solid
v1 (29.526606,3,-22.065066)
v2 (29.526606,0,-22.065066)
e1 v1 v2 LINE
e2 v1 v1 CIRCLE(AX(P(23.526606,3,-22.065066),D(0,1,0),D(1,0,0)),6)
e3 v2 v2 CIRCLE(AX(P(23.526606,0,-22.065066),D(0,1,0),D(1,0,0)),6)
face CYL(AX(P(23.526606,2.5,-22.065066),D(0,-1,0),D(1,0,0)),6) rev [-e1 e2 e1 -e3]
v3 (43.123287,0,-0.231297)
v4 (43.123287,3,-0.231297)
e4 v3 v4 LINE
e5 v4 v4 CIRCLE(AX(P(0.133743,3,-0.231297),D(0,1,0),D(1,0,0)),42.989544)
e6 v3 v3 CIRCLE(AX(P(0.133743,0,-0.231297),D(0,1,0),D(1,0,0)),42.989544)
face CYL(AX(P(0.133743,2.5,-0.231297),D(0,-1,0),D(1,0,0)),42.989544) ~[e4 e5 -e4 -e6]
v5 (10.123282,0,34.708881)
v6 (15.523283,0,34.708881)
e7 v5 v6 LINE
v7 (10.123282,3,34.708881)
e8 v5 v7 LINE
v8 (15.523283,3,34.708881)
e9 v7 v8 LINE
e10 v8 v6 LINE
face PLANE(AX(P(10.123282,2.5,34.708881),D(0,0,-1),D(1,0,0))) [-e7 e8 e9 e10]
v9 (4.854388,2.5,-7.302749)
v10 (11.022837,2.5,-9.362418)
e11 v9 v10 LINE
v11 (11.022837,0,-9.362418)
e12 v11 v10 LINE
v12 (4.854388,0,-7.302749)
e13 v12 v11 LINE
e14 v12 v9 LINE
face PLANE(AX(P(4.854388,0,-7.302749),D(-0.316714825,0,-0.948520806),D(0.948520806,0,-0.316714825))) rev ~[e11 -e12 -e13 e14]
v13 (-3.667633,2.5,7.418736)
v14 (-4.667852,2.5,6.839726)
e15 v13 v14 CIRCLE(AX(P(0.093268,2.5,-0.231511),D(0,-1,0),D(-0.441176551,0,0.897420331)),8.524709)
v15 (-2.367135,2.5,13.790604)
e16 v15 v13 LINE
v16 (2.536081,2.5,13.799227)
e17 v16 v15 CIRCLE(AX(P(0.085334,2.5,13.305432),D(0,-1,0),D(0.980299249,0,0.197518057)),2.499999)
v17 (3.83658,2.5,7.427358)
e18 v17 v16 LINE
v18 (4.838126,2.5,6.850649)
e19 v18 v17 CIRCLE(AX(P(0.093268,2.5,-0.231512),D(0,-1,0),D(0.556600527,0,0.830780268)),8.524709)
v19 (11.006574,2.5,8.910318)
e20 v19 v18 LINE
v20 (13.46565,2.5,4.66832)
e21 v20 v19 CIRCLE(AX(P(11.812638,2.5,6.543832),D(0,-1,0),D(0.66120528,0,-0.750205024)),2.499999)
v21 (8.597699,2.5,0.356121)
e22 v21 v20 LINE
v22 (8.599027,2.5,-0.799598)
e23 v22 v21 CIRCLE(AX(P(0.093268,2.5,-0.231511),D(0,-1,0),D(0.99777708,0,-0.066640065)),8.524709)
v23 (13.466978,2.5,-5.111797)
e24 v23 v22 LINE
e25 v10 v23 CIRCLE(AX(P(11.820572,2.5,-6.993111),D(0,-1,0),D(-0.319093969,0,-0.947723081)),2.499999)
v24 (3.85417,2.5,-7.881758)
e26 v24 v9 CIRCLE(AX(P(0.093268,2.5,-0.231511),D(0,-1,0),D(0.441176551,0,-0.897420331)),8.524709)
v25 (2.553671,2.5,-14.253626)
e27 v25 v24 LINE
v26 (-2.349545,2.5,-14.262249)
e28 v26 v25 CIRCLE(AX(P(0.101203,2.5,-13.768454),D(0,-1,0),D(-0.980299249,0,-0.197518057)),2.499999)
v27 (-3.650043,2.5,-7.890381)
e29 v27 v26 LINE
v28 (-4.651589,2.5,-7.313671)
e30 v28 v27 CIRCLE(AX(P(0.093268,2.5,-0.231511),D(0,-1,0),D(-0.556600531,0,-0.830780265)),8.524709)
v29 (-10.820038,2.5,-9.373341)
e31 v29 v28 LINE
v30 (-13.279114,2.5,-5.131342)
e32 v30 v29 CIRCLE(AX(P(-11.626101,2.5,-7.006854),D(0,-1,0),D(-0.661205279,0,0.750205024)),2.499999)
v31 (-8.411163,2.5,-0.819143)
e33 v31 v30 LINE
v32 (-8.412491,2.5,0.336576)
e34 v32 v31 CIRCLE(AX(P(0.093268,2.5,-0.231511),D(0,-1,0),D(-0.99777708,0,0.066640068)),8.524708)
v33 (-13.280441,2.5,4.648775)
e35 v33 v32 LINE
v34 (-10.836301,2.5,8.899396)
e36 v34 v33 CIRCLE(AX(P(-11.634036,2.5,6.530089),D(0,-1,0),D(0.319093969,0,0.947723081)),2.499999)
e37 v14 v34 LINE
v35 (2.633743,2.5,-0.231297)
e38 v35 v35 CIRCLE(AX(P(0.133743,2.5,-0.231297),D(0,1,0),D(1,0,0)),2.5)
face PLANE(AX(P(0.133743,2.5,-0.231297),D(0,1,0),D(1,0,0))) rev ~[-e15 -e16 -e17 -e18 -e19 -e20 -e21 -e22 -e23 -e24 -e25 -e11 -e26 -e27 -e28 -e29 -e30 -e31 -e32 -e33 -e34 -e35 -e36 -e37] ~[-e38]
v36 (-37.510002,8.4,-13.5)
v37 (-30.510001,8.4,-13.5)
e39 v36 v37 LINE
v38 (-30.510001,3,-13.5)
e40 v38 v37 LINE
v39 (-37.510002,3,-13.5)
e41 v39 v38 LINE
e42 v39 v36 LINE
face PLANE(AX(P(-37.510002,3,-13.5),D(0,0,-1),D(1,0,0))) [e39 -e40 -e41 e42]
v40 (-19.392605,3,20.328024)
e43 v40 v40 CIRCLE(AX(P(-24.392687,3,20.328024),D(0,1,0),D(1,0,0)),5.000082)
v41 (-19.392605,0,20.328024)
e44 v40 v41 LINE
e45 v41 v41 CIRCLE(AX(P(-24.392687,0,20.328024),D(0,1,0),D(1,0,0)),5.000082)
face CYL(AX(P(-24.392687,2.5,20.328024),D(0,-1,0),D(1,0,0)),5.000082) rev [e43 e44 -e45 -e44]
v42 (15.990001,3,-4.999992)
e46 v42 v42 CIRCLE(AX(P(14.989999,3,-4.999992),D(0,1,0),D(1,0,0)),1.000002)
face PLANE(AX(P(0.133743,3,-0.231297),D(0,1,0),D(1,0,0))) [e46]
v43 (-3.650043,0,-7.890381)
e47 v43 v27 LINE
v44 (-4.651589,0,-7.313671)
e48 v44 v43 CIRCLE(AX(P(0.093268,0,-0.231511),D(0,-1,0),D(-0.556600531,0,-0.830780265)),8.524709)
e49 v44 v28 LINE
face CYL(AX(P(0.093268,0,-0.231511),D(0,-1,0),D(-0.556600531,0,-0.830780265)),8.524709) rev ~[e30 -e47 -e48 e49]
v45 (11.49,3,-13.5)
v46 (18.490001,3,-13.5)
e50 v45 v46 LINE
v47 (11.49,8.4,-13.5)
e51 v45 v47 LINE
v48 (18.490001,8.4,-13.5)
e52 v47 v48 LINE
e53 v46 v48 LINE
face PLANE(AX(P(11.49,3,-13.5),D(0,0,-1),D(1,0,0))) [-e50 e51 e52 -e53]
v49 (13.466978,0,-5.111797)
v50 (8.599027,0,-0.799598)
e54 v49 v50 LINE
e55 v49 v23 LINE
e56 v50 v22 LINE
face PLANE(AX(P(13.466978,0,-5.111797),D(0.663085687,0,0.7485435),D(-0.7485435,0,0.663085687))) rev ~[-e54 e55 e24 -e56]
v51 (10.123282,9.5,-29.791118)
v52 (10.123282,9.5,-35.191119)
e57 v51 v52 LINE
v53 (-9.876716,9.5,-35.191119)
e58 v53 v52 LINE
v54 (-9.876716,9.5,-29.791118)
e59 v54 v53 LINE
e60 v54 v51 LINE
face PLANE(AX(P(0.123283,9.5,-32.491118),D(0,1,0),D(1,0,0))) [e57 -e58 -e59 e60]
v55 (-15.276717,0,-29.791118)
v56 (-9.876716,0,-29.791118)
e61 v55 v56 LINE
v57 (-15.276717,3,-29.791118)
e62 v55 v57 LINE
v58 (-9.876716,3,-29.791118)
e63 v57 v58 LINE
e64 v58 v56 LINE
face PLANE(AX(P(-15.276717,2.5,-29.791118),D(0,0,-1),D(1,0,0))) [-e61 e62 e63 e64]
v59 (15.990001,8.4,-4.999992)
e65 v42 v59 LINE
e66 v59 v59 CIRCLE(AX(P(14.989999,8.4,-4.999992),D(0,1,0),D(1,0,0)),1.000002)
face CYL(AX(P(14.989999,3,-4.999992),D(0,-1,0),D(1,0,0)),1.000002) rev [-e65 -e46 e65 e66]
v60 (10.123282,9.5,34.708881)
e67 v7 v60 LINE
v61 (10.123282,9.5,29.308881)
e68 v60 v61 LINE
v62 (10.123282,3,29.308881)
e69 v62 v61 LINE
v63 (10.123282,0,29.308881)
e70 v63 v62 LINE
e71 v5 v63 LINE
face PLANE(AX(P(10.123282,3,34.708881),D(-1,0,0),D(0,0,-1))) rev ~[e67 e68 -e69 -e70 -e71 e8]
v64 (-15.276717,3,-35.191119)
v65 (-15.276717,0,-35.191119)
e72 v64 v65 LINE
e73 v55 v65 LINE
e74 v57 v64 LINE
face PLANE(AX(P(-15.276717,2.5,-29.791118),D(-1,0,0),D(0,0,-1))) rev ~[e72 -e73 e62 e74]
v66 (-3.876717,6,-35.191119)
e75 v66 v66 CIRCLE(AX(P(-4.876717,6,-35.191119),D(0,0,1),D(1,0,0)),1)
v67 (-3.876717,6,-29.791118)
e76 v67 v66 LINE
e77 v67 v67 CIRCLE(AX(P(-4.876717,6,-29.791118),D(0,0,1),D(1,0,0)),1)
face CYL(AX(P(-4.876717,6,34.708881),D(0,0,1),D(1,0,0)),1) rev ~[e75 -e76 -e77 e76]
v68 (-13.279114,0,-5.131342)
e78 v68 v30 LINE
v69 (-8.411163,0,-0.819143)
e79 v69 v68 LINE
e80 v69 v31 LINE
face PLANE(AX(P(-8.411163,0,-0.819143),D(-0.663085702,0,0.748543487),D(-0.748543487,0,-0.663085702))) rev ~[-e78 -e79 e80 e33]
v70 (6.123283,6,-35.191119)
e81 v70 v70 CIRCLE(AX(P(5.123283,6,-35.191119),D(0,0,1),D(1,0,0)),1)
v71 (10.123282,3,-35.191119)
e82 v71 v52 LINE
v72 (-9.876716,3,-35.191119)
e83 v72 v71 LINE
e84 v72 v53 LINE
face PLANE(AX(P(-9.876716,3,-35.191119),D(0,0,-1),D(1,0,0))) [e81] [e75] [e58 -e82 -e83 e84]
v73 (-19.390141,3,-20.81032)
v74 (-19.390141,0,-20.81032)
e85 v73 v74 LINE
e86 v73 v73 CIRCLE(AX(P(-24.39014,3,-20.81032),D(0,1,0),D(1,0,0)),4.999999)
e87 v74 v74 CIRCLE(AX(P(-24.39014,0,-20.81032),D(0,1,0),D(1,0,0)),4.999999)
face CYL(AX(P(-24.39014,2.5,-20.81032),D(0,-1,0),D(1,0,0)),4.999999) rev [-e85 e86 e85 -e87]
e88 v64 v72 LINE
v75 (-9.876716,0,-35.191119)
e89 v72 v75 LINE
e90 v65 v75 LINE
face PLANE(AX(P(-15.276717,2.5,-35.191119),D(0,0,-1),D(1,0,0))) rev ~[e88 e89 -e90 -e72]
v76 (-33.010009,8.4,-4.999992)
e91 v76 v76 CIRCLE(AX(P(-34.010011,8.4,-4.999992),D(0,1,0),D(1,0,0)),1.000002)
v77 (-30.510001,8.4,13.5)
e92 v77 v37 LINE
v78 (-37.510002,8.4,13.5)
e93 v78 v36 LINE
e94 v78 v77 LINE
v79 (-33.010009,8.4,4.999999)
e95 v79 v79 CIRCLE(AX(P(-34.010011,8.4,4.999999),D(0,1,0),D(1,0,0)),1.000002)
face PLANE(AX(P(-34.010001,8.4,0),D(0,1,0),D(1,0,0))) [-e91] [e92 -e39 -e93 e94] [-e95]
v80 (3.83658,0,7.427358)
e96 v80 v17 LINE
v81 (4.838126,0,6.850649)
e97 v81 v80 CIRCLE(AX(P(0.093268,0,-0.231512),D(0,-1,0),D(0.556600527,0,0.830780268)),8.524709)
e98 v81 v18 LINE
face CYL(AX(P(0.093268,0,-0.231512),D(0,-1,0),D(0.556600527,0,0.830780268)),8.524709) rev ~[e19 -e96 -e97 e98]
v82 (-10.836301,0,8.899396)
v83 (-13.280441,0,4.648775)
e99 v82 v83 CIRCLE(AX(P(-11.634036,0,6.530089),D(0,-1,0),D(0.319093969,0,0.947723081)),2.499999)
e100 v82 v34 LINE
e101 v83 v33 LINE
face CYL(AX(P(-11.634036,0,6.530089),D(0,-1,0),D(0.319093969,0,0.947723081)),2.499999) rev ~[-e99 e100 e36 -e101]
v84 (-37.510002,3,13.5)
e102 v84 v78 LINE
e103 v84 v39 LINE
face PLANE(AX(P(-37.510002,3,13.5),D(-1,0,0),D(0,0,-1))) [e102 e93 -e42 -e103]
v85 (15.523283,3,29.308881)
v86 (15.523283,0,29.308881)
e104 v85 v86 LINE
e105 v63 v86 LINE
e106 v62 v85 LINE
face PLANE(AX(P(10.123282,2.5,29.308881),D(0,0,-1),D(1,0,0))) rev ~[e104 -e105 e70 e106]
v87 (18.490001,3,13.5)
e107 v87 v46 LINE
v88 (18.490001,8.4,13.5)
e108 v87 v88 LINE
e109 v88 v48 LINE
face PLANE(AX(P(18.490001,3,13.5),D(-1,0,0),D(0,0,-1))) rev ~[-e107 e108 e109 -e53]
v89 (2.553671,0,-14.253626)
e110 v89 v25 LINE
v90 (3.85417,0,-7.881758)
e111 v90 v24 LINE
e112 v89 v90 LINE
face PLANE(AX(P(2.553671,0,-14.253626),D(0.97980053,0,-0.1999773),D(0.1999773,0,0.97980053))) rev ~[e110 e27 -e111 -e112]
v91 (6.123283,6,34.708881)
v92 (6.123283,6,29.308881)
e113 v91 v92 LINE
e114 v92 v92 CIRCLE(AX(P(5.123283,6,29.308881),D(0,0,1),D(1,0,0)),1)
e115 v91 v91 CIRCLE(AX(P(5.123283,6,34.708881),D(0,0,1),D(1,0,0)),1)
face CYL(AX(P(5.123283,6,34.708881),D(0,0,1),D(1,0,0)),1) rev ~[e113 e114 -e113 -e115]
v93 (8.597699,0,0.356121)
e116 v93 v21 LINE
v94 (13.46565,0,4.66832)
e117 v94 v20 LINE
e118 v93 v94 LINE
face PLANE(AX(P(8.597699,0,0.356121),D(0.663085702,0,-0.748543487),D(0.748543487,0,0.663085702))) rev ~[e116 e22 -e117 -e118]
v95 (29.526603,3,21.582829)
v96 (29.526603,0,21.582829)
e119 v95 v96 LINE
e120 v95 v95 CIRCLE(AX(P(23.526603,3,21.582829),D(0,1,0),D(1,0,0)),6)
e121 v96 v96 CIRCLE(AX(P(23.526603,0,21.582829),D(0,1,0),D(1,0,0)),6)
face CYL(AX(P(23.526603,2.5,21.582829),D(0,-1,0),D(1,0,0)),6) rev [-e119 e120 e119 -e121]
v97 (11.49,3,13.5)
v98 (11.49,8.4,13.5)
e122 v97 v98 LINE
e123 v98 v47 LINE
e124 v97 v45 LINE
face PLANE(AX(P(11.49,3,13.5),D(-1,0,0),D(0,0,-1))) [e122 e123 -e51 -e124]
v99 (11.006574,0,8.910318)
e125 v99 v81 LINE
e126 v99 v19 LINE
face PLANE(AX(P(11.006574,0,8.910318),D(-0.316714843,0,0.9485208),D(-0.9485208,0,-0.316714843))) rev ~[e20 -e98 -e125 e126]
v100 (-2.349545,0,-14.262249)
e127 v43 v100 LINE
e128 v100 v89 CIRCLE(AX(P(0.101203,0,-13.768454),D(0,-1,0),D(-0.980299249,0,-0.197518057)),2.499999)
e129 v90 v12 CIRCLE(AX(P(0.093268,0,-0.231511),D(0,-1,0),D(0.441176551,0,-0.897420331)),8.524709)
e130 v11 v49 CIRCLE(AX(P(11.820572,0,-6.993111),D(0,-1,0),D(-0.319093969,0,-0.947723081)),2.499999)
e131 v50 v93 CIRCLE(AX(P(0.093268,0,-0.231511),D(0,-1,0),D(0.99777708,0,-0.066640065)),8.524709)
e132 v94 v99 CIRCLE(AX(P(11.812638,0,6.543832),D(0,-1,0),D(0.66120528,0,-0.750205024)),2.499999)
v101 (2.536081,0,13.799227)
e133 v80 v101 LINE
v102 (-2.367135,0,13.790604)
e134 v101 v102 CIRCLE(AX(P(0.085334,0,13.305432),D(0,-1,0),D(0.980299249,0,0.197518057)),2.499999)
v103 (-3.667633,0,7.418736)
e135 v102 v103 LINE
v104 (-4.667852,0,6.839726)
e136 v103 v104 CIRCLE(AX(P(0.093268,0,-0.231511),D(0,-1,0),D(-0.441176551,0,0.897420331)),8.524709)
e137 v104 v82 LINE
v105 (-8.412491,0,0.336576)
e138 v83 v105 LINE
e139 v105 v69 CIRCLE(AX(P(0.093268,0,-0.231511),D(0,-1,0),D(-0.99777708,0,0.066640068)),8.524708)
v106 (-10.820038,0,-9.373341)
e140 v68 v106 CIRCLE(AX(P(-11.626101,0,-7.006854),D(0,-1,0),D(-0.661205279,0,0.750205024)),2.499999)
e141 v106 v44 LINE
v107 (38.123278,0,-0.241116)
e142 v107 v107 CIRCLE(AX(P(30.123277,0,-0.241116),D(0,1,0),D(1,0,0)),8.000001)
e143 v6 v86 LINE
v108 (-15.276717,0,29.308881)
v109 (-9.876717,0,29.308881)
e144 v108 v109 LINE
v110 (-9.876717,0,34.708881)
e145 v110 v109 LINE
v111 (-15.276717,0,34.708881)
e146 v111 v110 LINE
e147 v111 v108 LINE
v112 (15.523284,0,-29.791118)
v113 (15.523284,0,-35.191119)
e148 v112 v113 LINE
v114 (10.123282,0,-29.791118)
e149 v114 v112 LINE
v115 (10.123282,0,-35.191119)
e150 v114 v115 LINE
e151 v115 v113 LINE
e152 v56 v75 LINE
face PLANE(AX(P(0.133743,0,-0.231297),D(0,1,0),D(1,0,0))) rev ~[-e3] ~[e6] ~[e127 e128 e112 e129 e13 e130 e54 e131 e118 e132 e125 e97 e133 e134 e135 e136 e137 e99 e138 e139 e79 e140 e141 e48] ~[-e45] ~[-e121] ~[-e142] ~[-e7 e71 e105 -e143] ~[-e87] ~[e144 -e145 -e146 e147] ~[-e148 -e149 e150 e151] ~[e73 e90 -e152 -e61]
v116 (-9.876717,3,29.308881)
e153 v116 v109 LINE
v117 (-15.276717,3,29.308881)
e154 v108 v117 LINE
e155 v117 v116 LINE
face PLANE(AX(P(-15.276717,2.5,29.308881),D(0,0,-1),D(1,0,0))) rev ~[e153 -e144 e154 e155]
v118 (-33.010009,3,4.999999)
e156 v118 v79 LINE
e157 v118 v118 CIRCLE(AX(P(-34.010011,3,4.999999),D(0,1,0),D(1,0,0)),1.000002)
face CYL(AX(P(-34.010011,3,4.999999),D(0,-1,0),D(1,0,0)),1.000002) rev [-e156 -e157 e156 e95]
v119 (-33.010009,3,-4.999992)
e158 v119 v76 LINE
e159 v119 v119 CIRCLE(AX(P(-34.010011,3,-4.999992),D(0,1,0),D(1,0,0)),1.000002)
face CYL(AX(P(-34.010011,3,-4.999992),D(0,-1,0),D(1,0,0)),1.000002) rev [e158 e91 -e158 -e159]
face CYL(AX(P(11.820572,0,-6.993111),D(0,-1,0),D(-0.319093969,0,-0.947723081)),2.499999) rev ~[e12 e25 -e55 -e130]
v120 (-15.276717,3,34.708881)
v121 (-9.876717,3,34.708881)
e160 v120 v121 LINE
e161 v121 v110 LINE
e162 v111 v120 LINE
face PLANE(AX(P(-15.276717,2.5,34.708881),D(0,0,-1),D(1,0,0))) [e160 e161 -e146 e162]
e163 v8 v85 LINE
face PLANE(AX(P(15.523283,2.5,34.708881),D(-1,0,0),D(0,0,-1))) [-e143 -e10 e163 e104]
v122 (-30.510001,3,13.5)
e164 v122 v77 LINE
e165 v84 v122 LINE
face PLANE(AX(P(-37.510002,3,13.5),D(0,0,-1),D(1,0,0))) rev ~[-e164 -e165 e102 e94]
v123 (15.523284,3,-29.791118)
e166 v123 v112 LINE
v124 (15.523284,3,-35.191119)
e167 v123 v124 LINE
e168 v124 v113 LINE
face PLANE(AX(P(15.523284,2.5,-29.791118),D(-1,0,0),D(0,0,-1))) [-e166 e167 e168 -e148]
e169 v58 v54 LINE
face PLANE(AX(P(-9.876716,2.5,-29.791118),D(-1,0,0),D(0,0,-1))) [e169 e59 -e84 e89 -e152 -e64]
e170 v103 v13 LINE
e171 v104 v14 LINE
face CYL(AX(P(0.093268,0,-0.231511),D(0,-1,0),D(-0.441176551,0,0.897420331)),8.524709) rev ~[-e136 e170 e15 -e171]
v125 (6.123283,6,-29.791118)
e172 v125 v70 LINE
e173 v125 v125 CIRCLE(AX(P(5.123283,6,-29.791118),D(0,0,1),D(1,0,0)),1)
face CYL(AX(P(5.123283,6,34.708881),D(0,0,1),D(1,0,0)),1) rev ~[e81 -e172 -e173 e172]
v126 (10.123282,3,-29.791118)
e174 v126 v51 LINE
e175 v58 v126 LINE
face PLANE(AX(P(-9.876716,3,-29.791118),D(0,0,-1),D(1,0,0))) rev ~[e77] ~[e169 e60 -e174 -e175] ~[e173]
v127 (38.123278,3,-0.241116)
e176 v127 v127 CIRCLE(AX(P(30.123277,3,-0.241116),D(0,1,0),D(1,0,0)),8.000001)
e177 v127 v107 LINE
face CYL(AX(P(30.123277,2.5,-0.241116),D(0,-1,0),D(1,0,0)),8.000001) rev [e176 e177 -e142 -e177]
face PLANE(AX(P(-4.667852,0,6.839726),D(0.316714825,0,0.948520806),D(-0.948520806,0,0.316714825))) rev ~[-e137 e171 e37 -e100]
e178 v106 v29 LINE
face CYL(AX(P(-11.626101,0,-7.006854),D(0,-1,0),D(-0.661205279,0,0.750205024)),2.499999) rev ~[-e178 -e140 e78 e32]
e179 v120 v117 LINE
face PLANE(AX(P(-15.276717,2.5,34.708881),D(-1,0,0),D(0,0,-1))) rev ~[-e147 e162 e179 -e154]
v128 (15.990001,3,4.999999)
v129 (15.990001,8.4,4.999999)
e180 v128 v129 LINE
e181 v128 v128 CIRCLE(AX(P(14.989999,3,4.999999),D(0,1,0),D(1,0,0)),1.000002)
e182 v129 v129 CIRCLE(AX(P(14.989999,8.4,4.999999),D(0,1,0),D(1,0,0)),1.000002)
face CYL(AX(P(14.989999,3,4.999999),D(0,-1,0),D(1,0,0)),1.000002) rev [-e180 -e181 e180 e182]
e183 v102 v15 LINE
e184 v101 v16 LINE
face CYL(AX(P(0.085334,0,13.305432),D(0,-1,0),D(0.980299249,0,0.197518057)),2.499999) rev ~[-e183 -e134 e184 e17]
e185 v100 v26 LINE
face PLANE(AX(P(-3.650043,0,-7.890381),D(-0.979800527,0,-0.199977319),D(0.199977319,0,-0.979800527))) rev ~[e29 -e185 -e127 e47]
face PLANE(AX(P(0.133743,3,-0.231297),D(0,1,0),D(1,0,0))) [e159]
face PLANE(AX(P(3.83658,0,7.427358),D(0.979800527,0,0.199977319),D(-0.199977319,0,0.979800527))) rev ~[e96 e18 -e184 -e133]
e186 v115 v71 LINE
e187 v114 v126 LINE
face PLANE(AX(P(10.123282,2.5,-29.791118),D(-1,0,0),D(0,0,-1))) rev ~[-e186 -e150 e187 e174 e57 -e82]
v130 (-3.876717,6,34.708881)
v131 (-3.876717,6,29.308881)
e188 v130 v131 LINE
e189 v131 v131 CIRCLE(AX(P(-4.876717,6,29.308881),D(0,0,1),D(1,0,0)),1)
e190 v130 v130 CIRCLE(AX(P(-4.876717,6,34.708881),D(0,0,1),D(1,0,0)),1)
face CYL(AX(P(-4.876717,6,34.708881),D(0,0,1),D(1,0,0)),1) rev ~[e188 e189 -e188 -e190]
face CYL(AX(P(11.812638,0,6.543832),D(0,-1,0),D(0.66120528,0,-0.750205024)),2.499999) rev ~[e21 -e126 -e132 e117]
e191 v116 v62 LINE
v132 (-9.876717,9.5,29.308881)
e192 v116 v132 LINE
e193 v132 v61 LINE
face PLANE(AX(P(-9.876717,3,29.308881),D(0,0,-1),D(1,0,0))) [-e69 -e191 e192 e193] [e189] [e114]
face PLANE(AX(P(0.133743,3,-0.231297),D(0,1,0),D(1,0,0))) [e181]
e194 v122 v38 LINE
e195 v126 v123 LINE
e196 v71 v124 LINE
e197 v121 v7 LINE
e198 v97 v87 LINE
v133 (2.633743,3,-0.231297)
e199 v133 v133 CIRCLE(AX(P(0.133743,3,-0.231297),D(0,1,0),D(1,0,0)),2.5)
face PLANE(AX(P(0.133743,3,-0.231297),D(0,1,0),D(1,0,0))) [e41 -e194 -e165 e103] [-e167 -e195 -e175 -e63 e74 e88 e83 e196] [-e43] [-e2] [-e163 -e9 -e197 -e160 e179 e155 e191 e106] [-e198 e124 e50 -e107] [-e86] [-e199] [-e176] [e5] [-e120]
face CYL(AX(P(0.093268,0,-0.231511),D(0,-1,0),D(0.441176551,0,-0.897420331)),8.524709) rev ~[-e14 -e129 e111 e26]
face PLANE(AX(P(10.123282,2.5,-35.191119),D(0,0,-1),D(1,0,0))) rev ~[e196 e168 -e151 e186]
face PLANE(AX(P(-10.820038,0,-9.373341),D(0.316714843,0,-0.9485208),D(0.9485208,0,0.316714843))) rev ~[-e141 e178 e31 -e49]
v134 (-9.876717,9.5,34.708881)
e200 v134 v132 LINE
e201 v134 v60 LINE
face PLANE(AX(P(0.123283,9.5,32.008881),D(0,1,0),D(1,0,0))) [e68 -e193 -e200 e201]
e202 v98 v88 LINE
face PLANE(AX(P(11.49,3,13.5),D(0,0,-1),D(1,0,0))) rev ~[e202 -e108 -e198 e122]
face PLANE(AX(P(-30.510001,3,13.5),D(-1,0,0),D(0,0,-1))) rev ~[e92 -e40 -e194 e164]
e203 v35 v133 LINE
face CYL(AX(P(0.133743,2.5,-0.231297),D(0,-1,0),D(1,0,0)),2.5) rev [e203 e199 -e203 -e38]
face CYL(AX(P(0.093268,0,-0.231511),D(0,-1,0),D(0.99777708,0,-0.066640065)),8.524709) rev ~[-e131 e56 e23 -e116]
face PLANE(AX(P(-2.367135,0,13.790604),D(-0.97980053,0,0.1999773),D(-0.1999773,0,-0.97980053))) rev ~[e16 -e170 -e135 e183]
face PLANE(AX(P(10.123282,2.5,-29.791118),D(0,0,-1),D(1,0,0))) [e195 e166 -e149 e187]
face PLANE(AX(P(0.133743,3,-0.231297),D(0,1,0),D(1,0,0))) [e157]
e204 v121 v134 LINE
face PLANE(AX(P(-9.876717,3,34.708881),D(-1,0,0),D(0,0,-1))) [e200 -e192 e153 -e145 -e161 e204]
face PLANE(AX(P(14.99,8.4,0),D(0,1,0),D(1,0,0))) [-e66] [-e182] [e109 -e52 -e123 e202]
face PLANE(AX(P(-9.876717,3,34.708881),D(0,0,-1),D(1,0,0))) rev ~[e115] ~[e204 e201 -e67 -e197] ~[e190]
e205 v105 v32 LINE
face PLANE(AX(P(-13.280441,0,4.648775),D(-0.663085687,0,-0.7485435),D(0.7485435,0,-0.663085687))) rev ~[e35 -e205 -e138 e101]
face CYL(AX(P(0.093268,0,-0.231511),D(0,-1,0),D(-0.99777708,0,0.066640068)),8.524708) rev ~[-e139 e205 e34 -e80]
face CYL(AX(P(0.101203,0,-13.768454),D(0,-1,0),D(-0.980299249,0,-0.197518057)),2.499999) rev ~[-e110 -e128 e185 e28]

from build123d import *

# Parameters (mm, degrees)
CROQUIS1_R              = 42.989543869
CROQUIS1_R_2            = 8.000000719
CROQUIS1_R_3            = 6.000000354
CROQUIS1_R_4            = 4.999998849
CROQUIS1_R_5            = 5.000081965
CROQUIS1_R_6            = 6.000000031
CROQUIS1_W              = 5.400000572
CROQUIS1_H              = 5.400000573
CROQUIS1_W_2            = 5.400001526
CROQUIS1_H_2            = 5.400001526
CROQUIS1_W_3            = 5.400001525
SALIENTE_EXTRUIR1_DEPTH = 2.5
CROQUIS2_R              = 42.989543869
CROQUIS2_R_2            = 5.000081965
CROQUIS2_R_3            = 6.000000031
CROQUIS2_R_4            = 8.000000719
CROQUIS2_R_5            = 6.000000354
CROQUIS2_R_6            = 4.999998849
CROQUIS2_R_7            = 2.5
CROQUIS2_W              = 5.400000572
CROQUIS2_H              = 5.400000573
CROQUIS2_W_2            = 5.400001525
CROQUIS2_H_2            = 5.400001526
CROQUIS2_W_3            = 5.400001526
SALIENTE_EXTRUIR2_DEPTH = 0.5
CROQUIS3_W              = 19.999999047
CROQUIS3_H              = 5.400000573
CROQUIS3_W_2            = 19.999998093
CROQUIS3_H_2            = 5.400001526
SALIENTE_EXTRUIR3_DEPTH = 6.5
CROQUIS4_R              = 1
CORTAR_EXTRUIR1_DEPTH   = 94.5
CROQUIS5_W              = 7.000000953
CROQUIS5_H              = 27
CROQUIS5_R              = 1.000001566
CROQUIS5_W_2            = 7.000000954
SALIENTE_EXTRUIR4_DEPTH = 5.4


with BuildPart() as part:
    # Croquis1 → Saliente-Extruir1 (new body)
    with BuildSketch(Plane(origin=(0, 0, 0), x_dir=(1, 0, 0), z_dir=(0, 1, 0))):
        with Locations((0.133743246, 0.231297164)):
            Circle(CROQUIS1_R)
        with Locations((30.123277351, 0.24111594)):
            Circle(CROQUIS1_R_2, mode=Mode.SUBTRACT)
        with Locations((23.52660556, 22.065066477)):
            Circle(CROQUIS1_R_3, mode=Mode.SUBTRACT)
        with Locations((-24.390140184, 20.810319956)):
            Circle(CROQUIS1_R_4, mode=Mode.SUBTRACT)
        with Locations((-24.392687184, -20.328024023)):
            Circle(CROQUIS1_R_5, mode=Mode.SUBTRACT)
        with Locations((23.526602762, -21.582829156)):
            Circle(CROQUIS1_R_6, mode=Mode.SUBTRACT)
        with BuildLine():
            Line((4.854387983, 7.302748706), (11.022837385, 9.362418202))
            ThreePointArc((11.022837385, 9.362418202), (13.987829641, 8.239301442), (13.466977705, 5.11179707))
            Line((13.466977705, 5.11179707), (8.599027265, 0.799598431))
            ThreePointArc((8.599027265, 0.799598431), (8.617971382, 0.221716337), (8.597699336, -0.356120697))
            Line((8.597699336, -0.356120697), (13.465650144, -4.668319833))
            ThreePointArc((13.465650144, -4.668319833), (13.975498626, -7.797636828), (11.006574422, -8.910318006))
            Line((11.006574422, -8.910318006), (4.838125635, -6.850648581))
            ThreePointArc((4.838125635, -6.850648581), (4.347137119, -7.155995714), (3.836579545, -7.427358125))
            Line((3.836579545, -7.427358125), (2.536080952, -13.799226756))
            ThreePointArc((2.536080952, -13.799226756), (0.080937178, -15.805426992), (-2.36713509, -13.790603798))
            Line((-2.36713509, -13.790603798), (-3.667633438, -7.418735734))
            ThreePointArc((-3.667633438, -7.418735734), (-4.177566071, -7.146200773), (-4.667851599, -6.839726149))
            Line((-4.667851599, -6.839726149), (-10.836301, -8.899395645))
            ThreePointArc((-10.836301, -8.899395645), (-13.801293256, -7.776278885), (-13.28044132, -4.648774514))
            Line((-13.28044132, -4.648774514), (-8.41249088, -0.336575875))
            ThreePointArc((-8.41249088, -0.336575875), (-8.431434998, 0.24130622), (-8.411162951, 0.819143254))
            Line((-8.411162951, 0.819143254), (-13.279113759, 5.131342389))
            ThreePointArc((-13.279113759, 5.131342389), (-13.788962242, 8.260659385), (-10.820038037, 9.373340563))
            Line((-10.820038037, 9.373340563), (-4.65158925, 7.313671137))
            ThreePointArc((-4.65158925, 7.313671137), (-4.160600735, 7.619018271), (-3.65004316, 7.890380681))
            Line((-3.65004316, 7.890380681), (-2.349544567, 14.262249313))
            ThreePointArc((-2.349544567, 14.262249313), (0.105599207, 16.268449549), (2.553671475, 14.253626355))
            Line((2.553671475, 14.253626355), (3.854169823, 7.88175829))
            ThreePointArc((3.854169823, 7.88175829), (4.364102455, 7.60922333), (4.854387983, 7.302748706))
        make_face(mode=Mode.SUBTRACT)
        with Locations((-12.576717154, -32.008881065)):
            Rectangle(CROQUIS1_W, CROQUIS1_H, mode=Mode.SUBTRACT)
        with Locations((12.823282465, -32.008881065)):
            Rectangle(CROQUIS1_W, CROQUIS1_H, mode=Mode.SUBTRACT)
        with Locations((-12.576716677, 32.491118458)):
            Rectangle(CROQUIS1_W_2, CROQUIS1_H_2, mode=Mode.SUBTRACT)
        with Locations((12.823282942, 32.491118458)):
            Rectangle(CROQUIS1_W_3, CROQUIS1_H_2, mode=Mode.SUBTRACT)
    extrude(amount=SALIENTE_EXTRUIR1_DEPTH)

    # Croquis2 → Saliente-Extruir2 (add)
    with BuildSketch(Plane(origin=(0, 2.5, 0), x_dir=(1, 0, 0), z_dir=(0, 1, 0))):
        with Locations((0.133743246, 0.231297164)):
            Circle(CROQUIS2_R)
        with Locations((-24.392687184, -20.328024023)):
            Circle(CROQUIS2_R_2, mode=Mode.SUBTRACT)
        with Locations((23.526602762, -21.582829156)):
            Circle(CROQUIS2_R_3, mode=Mode.SUBTRACT)
        with Locations((30.123277351, 0.24111594)):
            Circle(CROQUIS2_R_4, mode=Mode.SUBTRACT)
        with Locations((23.52660556, 22.065066477)):
            Circle(CROQUIS2_R_5, mode=Mode.SUBTRACT)
        with Locations((-24.390140184, 20.810319956)):
            Circle(CROQUIS2_R_6, mode=Mode.SUBTRACT)
        with Locations((0.133743246, 0.231297164)):
            Circle(CROQUIS2_R_7, mode=Mode.SUBTRACT)
        with Locations((-12.576717154, -32.008881065)):
            Rectangle(CROQUIS2_W, CROQUIS2_H, mode=Mode.SUBTRACT)
        with Locations((12.823282465, -32.008881065)):
            Rectangle(CROQUIS2_W, CROQUIS2_H, mode=Mode.SUBTRACT)
        with Locations((12.823282942, 32.491118458)):
            Rectangle(CROQUIS2_W_2, CROQUIS2_H_2, mode=Mode.SUBTRACT)
        with Locations((-12.576716677, 32.491118458)):
            Rectangle(CROQUIS2_W_3, CROQUIS2_H_2, mode=Mode.SUBTRACT)
    extrude(amount=SALIENTE_EXTRUIR2_DEPTH)

    # Croquis3 → Saliente-Extruir3 (add)
    with BuildSketch(Plane(origin=(0, 3, 0), x_dir=(1, 0, 0), z_dir=(0, 1, 0))):
        with Locations((0.123282655, -32.008881065)):
            Rectangle(CROQUIS3_W, CROQUIS3_H)
        with Locations((0.123283133, 32.491118458)):
            Rectangle(CROQUIS3_W_2, CROQUIS3_H_2)
    extrude(amount=SALIENTE_EXTRUIR3_DEPTH)

    # Croquis4 → Cortar-Extruir1 (cut)
    with BuildSketch(Plane.XY.offset(34.708881352)):
        with Locations((-4.876716868, 6)):
            Circle(CROQUIS4_R)
        with Locations((5.123283132, 6)):
            Circle(CROQUIS4_R)
    extrude(amount=-CORTAR_EXTRUIR1_DEPTH, mode=Mode.SUBTRACT)

    # Croquis5 → Saliente-Extruir4 (add)
    with BuildSketch(Plane(origin=(0, 3, 0), x_dir=(1, 0, 0), z_dir=(0, 1, 0))):
        with Locations((-34.010001431, 0)):
            Rectangle(CROQUIS5_W, CROQUIS5_H)
        with Locations((-34.010010931, 4.999991869)):
            Circle(CROQUIS5_R, mode=Mode.SUBTRACT)
        with Locations((-34.010010931, -4.999998876)):
            Circle(CROQUIS5_R, mode=Mode.SUBTRACT)
        with Locations((14.990000477, 0)):
            Rectangle(CROQUIS5_W_2, CROQUIS5_H)
        with Locations((14.989999497, 4.999991869)):
            Circle(CROQUIS5_R, mode=Mode.SUBTRACT)
        with Locations((14.989999497, -4.999998876)):
            Circle(CROQUIS5_R, mode=Mode.SUBTRACT)
    extrude(amount=SALIENTE_EXTRUIR4_DEPTH)


solid = part.part
